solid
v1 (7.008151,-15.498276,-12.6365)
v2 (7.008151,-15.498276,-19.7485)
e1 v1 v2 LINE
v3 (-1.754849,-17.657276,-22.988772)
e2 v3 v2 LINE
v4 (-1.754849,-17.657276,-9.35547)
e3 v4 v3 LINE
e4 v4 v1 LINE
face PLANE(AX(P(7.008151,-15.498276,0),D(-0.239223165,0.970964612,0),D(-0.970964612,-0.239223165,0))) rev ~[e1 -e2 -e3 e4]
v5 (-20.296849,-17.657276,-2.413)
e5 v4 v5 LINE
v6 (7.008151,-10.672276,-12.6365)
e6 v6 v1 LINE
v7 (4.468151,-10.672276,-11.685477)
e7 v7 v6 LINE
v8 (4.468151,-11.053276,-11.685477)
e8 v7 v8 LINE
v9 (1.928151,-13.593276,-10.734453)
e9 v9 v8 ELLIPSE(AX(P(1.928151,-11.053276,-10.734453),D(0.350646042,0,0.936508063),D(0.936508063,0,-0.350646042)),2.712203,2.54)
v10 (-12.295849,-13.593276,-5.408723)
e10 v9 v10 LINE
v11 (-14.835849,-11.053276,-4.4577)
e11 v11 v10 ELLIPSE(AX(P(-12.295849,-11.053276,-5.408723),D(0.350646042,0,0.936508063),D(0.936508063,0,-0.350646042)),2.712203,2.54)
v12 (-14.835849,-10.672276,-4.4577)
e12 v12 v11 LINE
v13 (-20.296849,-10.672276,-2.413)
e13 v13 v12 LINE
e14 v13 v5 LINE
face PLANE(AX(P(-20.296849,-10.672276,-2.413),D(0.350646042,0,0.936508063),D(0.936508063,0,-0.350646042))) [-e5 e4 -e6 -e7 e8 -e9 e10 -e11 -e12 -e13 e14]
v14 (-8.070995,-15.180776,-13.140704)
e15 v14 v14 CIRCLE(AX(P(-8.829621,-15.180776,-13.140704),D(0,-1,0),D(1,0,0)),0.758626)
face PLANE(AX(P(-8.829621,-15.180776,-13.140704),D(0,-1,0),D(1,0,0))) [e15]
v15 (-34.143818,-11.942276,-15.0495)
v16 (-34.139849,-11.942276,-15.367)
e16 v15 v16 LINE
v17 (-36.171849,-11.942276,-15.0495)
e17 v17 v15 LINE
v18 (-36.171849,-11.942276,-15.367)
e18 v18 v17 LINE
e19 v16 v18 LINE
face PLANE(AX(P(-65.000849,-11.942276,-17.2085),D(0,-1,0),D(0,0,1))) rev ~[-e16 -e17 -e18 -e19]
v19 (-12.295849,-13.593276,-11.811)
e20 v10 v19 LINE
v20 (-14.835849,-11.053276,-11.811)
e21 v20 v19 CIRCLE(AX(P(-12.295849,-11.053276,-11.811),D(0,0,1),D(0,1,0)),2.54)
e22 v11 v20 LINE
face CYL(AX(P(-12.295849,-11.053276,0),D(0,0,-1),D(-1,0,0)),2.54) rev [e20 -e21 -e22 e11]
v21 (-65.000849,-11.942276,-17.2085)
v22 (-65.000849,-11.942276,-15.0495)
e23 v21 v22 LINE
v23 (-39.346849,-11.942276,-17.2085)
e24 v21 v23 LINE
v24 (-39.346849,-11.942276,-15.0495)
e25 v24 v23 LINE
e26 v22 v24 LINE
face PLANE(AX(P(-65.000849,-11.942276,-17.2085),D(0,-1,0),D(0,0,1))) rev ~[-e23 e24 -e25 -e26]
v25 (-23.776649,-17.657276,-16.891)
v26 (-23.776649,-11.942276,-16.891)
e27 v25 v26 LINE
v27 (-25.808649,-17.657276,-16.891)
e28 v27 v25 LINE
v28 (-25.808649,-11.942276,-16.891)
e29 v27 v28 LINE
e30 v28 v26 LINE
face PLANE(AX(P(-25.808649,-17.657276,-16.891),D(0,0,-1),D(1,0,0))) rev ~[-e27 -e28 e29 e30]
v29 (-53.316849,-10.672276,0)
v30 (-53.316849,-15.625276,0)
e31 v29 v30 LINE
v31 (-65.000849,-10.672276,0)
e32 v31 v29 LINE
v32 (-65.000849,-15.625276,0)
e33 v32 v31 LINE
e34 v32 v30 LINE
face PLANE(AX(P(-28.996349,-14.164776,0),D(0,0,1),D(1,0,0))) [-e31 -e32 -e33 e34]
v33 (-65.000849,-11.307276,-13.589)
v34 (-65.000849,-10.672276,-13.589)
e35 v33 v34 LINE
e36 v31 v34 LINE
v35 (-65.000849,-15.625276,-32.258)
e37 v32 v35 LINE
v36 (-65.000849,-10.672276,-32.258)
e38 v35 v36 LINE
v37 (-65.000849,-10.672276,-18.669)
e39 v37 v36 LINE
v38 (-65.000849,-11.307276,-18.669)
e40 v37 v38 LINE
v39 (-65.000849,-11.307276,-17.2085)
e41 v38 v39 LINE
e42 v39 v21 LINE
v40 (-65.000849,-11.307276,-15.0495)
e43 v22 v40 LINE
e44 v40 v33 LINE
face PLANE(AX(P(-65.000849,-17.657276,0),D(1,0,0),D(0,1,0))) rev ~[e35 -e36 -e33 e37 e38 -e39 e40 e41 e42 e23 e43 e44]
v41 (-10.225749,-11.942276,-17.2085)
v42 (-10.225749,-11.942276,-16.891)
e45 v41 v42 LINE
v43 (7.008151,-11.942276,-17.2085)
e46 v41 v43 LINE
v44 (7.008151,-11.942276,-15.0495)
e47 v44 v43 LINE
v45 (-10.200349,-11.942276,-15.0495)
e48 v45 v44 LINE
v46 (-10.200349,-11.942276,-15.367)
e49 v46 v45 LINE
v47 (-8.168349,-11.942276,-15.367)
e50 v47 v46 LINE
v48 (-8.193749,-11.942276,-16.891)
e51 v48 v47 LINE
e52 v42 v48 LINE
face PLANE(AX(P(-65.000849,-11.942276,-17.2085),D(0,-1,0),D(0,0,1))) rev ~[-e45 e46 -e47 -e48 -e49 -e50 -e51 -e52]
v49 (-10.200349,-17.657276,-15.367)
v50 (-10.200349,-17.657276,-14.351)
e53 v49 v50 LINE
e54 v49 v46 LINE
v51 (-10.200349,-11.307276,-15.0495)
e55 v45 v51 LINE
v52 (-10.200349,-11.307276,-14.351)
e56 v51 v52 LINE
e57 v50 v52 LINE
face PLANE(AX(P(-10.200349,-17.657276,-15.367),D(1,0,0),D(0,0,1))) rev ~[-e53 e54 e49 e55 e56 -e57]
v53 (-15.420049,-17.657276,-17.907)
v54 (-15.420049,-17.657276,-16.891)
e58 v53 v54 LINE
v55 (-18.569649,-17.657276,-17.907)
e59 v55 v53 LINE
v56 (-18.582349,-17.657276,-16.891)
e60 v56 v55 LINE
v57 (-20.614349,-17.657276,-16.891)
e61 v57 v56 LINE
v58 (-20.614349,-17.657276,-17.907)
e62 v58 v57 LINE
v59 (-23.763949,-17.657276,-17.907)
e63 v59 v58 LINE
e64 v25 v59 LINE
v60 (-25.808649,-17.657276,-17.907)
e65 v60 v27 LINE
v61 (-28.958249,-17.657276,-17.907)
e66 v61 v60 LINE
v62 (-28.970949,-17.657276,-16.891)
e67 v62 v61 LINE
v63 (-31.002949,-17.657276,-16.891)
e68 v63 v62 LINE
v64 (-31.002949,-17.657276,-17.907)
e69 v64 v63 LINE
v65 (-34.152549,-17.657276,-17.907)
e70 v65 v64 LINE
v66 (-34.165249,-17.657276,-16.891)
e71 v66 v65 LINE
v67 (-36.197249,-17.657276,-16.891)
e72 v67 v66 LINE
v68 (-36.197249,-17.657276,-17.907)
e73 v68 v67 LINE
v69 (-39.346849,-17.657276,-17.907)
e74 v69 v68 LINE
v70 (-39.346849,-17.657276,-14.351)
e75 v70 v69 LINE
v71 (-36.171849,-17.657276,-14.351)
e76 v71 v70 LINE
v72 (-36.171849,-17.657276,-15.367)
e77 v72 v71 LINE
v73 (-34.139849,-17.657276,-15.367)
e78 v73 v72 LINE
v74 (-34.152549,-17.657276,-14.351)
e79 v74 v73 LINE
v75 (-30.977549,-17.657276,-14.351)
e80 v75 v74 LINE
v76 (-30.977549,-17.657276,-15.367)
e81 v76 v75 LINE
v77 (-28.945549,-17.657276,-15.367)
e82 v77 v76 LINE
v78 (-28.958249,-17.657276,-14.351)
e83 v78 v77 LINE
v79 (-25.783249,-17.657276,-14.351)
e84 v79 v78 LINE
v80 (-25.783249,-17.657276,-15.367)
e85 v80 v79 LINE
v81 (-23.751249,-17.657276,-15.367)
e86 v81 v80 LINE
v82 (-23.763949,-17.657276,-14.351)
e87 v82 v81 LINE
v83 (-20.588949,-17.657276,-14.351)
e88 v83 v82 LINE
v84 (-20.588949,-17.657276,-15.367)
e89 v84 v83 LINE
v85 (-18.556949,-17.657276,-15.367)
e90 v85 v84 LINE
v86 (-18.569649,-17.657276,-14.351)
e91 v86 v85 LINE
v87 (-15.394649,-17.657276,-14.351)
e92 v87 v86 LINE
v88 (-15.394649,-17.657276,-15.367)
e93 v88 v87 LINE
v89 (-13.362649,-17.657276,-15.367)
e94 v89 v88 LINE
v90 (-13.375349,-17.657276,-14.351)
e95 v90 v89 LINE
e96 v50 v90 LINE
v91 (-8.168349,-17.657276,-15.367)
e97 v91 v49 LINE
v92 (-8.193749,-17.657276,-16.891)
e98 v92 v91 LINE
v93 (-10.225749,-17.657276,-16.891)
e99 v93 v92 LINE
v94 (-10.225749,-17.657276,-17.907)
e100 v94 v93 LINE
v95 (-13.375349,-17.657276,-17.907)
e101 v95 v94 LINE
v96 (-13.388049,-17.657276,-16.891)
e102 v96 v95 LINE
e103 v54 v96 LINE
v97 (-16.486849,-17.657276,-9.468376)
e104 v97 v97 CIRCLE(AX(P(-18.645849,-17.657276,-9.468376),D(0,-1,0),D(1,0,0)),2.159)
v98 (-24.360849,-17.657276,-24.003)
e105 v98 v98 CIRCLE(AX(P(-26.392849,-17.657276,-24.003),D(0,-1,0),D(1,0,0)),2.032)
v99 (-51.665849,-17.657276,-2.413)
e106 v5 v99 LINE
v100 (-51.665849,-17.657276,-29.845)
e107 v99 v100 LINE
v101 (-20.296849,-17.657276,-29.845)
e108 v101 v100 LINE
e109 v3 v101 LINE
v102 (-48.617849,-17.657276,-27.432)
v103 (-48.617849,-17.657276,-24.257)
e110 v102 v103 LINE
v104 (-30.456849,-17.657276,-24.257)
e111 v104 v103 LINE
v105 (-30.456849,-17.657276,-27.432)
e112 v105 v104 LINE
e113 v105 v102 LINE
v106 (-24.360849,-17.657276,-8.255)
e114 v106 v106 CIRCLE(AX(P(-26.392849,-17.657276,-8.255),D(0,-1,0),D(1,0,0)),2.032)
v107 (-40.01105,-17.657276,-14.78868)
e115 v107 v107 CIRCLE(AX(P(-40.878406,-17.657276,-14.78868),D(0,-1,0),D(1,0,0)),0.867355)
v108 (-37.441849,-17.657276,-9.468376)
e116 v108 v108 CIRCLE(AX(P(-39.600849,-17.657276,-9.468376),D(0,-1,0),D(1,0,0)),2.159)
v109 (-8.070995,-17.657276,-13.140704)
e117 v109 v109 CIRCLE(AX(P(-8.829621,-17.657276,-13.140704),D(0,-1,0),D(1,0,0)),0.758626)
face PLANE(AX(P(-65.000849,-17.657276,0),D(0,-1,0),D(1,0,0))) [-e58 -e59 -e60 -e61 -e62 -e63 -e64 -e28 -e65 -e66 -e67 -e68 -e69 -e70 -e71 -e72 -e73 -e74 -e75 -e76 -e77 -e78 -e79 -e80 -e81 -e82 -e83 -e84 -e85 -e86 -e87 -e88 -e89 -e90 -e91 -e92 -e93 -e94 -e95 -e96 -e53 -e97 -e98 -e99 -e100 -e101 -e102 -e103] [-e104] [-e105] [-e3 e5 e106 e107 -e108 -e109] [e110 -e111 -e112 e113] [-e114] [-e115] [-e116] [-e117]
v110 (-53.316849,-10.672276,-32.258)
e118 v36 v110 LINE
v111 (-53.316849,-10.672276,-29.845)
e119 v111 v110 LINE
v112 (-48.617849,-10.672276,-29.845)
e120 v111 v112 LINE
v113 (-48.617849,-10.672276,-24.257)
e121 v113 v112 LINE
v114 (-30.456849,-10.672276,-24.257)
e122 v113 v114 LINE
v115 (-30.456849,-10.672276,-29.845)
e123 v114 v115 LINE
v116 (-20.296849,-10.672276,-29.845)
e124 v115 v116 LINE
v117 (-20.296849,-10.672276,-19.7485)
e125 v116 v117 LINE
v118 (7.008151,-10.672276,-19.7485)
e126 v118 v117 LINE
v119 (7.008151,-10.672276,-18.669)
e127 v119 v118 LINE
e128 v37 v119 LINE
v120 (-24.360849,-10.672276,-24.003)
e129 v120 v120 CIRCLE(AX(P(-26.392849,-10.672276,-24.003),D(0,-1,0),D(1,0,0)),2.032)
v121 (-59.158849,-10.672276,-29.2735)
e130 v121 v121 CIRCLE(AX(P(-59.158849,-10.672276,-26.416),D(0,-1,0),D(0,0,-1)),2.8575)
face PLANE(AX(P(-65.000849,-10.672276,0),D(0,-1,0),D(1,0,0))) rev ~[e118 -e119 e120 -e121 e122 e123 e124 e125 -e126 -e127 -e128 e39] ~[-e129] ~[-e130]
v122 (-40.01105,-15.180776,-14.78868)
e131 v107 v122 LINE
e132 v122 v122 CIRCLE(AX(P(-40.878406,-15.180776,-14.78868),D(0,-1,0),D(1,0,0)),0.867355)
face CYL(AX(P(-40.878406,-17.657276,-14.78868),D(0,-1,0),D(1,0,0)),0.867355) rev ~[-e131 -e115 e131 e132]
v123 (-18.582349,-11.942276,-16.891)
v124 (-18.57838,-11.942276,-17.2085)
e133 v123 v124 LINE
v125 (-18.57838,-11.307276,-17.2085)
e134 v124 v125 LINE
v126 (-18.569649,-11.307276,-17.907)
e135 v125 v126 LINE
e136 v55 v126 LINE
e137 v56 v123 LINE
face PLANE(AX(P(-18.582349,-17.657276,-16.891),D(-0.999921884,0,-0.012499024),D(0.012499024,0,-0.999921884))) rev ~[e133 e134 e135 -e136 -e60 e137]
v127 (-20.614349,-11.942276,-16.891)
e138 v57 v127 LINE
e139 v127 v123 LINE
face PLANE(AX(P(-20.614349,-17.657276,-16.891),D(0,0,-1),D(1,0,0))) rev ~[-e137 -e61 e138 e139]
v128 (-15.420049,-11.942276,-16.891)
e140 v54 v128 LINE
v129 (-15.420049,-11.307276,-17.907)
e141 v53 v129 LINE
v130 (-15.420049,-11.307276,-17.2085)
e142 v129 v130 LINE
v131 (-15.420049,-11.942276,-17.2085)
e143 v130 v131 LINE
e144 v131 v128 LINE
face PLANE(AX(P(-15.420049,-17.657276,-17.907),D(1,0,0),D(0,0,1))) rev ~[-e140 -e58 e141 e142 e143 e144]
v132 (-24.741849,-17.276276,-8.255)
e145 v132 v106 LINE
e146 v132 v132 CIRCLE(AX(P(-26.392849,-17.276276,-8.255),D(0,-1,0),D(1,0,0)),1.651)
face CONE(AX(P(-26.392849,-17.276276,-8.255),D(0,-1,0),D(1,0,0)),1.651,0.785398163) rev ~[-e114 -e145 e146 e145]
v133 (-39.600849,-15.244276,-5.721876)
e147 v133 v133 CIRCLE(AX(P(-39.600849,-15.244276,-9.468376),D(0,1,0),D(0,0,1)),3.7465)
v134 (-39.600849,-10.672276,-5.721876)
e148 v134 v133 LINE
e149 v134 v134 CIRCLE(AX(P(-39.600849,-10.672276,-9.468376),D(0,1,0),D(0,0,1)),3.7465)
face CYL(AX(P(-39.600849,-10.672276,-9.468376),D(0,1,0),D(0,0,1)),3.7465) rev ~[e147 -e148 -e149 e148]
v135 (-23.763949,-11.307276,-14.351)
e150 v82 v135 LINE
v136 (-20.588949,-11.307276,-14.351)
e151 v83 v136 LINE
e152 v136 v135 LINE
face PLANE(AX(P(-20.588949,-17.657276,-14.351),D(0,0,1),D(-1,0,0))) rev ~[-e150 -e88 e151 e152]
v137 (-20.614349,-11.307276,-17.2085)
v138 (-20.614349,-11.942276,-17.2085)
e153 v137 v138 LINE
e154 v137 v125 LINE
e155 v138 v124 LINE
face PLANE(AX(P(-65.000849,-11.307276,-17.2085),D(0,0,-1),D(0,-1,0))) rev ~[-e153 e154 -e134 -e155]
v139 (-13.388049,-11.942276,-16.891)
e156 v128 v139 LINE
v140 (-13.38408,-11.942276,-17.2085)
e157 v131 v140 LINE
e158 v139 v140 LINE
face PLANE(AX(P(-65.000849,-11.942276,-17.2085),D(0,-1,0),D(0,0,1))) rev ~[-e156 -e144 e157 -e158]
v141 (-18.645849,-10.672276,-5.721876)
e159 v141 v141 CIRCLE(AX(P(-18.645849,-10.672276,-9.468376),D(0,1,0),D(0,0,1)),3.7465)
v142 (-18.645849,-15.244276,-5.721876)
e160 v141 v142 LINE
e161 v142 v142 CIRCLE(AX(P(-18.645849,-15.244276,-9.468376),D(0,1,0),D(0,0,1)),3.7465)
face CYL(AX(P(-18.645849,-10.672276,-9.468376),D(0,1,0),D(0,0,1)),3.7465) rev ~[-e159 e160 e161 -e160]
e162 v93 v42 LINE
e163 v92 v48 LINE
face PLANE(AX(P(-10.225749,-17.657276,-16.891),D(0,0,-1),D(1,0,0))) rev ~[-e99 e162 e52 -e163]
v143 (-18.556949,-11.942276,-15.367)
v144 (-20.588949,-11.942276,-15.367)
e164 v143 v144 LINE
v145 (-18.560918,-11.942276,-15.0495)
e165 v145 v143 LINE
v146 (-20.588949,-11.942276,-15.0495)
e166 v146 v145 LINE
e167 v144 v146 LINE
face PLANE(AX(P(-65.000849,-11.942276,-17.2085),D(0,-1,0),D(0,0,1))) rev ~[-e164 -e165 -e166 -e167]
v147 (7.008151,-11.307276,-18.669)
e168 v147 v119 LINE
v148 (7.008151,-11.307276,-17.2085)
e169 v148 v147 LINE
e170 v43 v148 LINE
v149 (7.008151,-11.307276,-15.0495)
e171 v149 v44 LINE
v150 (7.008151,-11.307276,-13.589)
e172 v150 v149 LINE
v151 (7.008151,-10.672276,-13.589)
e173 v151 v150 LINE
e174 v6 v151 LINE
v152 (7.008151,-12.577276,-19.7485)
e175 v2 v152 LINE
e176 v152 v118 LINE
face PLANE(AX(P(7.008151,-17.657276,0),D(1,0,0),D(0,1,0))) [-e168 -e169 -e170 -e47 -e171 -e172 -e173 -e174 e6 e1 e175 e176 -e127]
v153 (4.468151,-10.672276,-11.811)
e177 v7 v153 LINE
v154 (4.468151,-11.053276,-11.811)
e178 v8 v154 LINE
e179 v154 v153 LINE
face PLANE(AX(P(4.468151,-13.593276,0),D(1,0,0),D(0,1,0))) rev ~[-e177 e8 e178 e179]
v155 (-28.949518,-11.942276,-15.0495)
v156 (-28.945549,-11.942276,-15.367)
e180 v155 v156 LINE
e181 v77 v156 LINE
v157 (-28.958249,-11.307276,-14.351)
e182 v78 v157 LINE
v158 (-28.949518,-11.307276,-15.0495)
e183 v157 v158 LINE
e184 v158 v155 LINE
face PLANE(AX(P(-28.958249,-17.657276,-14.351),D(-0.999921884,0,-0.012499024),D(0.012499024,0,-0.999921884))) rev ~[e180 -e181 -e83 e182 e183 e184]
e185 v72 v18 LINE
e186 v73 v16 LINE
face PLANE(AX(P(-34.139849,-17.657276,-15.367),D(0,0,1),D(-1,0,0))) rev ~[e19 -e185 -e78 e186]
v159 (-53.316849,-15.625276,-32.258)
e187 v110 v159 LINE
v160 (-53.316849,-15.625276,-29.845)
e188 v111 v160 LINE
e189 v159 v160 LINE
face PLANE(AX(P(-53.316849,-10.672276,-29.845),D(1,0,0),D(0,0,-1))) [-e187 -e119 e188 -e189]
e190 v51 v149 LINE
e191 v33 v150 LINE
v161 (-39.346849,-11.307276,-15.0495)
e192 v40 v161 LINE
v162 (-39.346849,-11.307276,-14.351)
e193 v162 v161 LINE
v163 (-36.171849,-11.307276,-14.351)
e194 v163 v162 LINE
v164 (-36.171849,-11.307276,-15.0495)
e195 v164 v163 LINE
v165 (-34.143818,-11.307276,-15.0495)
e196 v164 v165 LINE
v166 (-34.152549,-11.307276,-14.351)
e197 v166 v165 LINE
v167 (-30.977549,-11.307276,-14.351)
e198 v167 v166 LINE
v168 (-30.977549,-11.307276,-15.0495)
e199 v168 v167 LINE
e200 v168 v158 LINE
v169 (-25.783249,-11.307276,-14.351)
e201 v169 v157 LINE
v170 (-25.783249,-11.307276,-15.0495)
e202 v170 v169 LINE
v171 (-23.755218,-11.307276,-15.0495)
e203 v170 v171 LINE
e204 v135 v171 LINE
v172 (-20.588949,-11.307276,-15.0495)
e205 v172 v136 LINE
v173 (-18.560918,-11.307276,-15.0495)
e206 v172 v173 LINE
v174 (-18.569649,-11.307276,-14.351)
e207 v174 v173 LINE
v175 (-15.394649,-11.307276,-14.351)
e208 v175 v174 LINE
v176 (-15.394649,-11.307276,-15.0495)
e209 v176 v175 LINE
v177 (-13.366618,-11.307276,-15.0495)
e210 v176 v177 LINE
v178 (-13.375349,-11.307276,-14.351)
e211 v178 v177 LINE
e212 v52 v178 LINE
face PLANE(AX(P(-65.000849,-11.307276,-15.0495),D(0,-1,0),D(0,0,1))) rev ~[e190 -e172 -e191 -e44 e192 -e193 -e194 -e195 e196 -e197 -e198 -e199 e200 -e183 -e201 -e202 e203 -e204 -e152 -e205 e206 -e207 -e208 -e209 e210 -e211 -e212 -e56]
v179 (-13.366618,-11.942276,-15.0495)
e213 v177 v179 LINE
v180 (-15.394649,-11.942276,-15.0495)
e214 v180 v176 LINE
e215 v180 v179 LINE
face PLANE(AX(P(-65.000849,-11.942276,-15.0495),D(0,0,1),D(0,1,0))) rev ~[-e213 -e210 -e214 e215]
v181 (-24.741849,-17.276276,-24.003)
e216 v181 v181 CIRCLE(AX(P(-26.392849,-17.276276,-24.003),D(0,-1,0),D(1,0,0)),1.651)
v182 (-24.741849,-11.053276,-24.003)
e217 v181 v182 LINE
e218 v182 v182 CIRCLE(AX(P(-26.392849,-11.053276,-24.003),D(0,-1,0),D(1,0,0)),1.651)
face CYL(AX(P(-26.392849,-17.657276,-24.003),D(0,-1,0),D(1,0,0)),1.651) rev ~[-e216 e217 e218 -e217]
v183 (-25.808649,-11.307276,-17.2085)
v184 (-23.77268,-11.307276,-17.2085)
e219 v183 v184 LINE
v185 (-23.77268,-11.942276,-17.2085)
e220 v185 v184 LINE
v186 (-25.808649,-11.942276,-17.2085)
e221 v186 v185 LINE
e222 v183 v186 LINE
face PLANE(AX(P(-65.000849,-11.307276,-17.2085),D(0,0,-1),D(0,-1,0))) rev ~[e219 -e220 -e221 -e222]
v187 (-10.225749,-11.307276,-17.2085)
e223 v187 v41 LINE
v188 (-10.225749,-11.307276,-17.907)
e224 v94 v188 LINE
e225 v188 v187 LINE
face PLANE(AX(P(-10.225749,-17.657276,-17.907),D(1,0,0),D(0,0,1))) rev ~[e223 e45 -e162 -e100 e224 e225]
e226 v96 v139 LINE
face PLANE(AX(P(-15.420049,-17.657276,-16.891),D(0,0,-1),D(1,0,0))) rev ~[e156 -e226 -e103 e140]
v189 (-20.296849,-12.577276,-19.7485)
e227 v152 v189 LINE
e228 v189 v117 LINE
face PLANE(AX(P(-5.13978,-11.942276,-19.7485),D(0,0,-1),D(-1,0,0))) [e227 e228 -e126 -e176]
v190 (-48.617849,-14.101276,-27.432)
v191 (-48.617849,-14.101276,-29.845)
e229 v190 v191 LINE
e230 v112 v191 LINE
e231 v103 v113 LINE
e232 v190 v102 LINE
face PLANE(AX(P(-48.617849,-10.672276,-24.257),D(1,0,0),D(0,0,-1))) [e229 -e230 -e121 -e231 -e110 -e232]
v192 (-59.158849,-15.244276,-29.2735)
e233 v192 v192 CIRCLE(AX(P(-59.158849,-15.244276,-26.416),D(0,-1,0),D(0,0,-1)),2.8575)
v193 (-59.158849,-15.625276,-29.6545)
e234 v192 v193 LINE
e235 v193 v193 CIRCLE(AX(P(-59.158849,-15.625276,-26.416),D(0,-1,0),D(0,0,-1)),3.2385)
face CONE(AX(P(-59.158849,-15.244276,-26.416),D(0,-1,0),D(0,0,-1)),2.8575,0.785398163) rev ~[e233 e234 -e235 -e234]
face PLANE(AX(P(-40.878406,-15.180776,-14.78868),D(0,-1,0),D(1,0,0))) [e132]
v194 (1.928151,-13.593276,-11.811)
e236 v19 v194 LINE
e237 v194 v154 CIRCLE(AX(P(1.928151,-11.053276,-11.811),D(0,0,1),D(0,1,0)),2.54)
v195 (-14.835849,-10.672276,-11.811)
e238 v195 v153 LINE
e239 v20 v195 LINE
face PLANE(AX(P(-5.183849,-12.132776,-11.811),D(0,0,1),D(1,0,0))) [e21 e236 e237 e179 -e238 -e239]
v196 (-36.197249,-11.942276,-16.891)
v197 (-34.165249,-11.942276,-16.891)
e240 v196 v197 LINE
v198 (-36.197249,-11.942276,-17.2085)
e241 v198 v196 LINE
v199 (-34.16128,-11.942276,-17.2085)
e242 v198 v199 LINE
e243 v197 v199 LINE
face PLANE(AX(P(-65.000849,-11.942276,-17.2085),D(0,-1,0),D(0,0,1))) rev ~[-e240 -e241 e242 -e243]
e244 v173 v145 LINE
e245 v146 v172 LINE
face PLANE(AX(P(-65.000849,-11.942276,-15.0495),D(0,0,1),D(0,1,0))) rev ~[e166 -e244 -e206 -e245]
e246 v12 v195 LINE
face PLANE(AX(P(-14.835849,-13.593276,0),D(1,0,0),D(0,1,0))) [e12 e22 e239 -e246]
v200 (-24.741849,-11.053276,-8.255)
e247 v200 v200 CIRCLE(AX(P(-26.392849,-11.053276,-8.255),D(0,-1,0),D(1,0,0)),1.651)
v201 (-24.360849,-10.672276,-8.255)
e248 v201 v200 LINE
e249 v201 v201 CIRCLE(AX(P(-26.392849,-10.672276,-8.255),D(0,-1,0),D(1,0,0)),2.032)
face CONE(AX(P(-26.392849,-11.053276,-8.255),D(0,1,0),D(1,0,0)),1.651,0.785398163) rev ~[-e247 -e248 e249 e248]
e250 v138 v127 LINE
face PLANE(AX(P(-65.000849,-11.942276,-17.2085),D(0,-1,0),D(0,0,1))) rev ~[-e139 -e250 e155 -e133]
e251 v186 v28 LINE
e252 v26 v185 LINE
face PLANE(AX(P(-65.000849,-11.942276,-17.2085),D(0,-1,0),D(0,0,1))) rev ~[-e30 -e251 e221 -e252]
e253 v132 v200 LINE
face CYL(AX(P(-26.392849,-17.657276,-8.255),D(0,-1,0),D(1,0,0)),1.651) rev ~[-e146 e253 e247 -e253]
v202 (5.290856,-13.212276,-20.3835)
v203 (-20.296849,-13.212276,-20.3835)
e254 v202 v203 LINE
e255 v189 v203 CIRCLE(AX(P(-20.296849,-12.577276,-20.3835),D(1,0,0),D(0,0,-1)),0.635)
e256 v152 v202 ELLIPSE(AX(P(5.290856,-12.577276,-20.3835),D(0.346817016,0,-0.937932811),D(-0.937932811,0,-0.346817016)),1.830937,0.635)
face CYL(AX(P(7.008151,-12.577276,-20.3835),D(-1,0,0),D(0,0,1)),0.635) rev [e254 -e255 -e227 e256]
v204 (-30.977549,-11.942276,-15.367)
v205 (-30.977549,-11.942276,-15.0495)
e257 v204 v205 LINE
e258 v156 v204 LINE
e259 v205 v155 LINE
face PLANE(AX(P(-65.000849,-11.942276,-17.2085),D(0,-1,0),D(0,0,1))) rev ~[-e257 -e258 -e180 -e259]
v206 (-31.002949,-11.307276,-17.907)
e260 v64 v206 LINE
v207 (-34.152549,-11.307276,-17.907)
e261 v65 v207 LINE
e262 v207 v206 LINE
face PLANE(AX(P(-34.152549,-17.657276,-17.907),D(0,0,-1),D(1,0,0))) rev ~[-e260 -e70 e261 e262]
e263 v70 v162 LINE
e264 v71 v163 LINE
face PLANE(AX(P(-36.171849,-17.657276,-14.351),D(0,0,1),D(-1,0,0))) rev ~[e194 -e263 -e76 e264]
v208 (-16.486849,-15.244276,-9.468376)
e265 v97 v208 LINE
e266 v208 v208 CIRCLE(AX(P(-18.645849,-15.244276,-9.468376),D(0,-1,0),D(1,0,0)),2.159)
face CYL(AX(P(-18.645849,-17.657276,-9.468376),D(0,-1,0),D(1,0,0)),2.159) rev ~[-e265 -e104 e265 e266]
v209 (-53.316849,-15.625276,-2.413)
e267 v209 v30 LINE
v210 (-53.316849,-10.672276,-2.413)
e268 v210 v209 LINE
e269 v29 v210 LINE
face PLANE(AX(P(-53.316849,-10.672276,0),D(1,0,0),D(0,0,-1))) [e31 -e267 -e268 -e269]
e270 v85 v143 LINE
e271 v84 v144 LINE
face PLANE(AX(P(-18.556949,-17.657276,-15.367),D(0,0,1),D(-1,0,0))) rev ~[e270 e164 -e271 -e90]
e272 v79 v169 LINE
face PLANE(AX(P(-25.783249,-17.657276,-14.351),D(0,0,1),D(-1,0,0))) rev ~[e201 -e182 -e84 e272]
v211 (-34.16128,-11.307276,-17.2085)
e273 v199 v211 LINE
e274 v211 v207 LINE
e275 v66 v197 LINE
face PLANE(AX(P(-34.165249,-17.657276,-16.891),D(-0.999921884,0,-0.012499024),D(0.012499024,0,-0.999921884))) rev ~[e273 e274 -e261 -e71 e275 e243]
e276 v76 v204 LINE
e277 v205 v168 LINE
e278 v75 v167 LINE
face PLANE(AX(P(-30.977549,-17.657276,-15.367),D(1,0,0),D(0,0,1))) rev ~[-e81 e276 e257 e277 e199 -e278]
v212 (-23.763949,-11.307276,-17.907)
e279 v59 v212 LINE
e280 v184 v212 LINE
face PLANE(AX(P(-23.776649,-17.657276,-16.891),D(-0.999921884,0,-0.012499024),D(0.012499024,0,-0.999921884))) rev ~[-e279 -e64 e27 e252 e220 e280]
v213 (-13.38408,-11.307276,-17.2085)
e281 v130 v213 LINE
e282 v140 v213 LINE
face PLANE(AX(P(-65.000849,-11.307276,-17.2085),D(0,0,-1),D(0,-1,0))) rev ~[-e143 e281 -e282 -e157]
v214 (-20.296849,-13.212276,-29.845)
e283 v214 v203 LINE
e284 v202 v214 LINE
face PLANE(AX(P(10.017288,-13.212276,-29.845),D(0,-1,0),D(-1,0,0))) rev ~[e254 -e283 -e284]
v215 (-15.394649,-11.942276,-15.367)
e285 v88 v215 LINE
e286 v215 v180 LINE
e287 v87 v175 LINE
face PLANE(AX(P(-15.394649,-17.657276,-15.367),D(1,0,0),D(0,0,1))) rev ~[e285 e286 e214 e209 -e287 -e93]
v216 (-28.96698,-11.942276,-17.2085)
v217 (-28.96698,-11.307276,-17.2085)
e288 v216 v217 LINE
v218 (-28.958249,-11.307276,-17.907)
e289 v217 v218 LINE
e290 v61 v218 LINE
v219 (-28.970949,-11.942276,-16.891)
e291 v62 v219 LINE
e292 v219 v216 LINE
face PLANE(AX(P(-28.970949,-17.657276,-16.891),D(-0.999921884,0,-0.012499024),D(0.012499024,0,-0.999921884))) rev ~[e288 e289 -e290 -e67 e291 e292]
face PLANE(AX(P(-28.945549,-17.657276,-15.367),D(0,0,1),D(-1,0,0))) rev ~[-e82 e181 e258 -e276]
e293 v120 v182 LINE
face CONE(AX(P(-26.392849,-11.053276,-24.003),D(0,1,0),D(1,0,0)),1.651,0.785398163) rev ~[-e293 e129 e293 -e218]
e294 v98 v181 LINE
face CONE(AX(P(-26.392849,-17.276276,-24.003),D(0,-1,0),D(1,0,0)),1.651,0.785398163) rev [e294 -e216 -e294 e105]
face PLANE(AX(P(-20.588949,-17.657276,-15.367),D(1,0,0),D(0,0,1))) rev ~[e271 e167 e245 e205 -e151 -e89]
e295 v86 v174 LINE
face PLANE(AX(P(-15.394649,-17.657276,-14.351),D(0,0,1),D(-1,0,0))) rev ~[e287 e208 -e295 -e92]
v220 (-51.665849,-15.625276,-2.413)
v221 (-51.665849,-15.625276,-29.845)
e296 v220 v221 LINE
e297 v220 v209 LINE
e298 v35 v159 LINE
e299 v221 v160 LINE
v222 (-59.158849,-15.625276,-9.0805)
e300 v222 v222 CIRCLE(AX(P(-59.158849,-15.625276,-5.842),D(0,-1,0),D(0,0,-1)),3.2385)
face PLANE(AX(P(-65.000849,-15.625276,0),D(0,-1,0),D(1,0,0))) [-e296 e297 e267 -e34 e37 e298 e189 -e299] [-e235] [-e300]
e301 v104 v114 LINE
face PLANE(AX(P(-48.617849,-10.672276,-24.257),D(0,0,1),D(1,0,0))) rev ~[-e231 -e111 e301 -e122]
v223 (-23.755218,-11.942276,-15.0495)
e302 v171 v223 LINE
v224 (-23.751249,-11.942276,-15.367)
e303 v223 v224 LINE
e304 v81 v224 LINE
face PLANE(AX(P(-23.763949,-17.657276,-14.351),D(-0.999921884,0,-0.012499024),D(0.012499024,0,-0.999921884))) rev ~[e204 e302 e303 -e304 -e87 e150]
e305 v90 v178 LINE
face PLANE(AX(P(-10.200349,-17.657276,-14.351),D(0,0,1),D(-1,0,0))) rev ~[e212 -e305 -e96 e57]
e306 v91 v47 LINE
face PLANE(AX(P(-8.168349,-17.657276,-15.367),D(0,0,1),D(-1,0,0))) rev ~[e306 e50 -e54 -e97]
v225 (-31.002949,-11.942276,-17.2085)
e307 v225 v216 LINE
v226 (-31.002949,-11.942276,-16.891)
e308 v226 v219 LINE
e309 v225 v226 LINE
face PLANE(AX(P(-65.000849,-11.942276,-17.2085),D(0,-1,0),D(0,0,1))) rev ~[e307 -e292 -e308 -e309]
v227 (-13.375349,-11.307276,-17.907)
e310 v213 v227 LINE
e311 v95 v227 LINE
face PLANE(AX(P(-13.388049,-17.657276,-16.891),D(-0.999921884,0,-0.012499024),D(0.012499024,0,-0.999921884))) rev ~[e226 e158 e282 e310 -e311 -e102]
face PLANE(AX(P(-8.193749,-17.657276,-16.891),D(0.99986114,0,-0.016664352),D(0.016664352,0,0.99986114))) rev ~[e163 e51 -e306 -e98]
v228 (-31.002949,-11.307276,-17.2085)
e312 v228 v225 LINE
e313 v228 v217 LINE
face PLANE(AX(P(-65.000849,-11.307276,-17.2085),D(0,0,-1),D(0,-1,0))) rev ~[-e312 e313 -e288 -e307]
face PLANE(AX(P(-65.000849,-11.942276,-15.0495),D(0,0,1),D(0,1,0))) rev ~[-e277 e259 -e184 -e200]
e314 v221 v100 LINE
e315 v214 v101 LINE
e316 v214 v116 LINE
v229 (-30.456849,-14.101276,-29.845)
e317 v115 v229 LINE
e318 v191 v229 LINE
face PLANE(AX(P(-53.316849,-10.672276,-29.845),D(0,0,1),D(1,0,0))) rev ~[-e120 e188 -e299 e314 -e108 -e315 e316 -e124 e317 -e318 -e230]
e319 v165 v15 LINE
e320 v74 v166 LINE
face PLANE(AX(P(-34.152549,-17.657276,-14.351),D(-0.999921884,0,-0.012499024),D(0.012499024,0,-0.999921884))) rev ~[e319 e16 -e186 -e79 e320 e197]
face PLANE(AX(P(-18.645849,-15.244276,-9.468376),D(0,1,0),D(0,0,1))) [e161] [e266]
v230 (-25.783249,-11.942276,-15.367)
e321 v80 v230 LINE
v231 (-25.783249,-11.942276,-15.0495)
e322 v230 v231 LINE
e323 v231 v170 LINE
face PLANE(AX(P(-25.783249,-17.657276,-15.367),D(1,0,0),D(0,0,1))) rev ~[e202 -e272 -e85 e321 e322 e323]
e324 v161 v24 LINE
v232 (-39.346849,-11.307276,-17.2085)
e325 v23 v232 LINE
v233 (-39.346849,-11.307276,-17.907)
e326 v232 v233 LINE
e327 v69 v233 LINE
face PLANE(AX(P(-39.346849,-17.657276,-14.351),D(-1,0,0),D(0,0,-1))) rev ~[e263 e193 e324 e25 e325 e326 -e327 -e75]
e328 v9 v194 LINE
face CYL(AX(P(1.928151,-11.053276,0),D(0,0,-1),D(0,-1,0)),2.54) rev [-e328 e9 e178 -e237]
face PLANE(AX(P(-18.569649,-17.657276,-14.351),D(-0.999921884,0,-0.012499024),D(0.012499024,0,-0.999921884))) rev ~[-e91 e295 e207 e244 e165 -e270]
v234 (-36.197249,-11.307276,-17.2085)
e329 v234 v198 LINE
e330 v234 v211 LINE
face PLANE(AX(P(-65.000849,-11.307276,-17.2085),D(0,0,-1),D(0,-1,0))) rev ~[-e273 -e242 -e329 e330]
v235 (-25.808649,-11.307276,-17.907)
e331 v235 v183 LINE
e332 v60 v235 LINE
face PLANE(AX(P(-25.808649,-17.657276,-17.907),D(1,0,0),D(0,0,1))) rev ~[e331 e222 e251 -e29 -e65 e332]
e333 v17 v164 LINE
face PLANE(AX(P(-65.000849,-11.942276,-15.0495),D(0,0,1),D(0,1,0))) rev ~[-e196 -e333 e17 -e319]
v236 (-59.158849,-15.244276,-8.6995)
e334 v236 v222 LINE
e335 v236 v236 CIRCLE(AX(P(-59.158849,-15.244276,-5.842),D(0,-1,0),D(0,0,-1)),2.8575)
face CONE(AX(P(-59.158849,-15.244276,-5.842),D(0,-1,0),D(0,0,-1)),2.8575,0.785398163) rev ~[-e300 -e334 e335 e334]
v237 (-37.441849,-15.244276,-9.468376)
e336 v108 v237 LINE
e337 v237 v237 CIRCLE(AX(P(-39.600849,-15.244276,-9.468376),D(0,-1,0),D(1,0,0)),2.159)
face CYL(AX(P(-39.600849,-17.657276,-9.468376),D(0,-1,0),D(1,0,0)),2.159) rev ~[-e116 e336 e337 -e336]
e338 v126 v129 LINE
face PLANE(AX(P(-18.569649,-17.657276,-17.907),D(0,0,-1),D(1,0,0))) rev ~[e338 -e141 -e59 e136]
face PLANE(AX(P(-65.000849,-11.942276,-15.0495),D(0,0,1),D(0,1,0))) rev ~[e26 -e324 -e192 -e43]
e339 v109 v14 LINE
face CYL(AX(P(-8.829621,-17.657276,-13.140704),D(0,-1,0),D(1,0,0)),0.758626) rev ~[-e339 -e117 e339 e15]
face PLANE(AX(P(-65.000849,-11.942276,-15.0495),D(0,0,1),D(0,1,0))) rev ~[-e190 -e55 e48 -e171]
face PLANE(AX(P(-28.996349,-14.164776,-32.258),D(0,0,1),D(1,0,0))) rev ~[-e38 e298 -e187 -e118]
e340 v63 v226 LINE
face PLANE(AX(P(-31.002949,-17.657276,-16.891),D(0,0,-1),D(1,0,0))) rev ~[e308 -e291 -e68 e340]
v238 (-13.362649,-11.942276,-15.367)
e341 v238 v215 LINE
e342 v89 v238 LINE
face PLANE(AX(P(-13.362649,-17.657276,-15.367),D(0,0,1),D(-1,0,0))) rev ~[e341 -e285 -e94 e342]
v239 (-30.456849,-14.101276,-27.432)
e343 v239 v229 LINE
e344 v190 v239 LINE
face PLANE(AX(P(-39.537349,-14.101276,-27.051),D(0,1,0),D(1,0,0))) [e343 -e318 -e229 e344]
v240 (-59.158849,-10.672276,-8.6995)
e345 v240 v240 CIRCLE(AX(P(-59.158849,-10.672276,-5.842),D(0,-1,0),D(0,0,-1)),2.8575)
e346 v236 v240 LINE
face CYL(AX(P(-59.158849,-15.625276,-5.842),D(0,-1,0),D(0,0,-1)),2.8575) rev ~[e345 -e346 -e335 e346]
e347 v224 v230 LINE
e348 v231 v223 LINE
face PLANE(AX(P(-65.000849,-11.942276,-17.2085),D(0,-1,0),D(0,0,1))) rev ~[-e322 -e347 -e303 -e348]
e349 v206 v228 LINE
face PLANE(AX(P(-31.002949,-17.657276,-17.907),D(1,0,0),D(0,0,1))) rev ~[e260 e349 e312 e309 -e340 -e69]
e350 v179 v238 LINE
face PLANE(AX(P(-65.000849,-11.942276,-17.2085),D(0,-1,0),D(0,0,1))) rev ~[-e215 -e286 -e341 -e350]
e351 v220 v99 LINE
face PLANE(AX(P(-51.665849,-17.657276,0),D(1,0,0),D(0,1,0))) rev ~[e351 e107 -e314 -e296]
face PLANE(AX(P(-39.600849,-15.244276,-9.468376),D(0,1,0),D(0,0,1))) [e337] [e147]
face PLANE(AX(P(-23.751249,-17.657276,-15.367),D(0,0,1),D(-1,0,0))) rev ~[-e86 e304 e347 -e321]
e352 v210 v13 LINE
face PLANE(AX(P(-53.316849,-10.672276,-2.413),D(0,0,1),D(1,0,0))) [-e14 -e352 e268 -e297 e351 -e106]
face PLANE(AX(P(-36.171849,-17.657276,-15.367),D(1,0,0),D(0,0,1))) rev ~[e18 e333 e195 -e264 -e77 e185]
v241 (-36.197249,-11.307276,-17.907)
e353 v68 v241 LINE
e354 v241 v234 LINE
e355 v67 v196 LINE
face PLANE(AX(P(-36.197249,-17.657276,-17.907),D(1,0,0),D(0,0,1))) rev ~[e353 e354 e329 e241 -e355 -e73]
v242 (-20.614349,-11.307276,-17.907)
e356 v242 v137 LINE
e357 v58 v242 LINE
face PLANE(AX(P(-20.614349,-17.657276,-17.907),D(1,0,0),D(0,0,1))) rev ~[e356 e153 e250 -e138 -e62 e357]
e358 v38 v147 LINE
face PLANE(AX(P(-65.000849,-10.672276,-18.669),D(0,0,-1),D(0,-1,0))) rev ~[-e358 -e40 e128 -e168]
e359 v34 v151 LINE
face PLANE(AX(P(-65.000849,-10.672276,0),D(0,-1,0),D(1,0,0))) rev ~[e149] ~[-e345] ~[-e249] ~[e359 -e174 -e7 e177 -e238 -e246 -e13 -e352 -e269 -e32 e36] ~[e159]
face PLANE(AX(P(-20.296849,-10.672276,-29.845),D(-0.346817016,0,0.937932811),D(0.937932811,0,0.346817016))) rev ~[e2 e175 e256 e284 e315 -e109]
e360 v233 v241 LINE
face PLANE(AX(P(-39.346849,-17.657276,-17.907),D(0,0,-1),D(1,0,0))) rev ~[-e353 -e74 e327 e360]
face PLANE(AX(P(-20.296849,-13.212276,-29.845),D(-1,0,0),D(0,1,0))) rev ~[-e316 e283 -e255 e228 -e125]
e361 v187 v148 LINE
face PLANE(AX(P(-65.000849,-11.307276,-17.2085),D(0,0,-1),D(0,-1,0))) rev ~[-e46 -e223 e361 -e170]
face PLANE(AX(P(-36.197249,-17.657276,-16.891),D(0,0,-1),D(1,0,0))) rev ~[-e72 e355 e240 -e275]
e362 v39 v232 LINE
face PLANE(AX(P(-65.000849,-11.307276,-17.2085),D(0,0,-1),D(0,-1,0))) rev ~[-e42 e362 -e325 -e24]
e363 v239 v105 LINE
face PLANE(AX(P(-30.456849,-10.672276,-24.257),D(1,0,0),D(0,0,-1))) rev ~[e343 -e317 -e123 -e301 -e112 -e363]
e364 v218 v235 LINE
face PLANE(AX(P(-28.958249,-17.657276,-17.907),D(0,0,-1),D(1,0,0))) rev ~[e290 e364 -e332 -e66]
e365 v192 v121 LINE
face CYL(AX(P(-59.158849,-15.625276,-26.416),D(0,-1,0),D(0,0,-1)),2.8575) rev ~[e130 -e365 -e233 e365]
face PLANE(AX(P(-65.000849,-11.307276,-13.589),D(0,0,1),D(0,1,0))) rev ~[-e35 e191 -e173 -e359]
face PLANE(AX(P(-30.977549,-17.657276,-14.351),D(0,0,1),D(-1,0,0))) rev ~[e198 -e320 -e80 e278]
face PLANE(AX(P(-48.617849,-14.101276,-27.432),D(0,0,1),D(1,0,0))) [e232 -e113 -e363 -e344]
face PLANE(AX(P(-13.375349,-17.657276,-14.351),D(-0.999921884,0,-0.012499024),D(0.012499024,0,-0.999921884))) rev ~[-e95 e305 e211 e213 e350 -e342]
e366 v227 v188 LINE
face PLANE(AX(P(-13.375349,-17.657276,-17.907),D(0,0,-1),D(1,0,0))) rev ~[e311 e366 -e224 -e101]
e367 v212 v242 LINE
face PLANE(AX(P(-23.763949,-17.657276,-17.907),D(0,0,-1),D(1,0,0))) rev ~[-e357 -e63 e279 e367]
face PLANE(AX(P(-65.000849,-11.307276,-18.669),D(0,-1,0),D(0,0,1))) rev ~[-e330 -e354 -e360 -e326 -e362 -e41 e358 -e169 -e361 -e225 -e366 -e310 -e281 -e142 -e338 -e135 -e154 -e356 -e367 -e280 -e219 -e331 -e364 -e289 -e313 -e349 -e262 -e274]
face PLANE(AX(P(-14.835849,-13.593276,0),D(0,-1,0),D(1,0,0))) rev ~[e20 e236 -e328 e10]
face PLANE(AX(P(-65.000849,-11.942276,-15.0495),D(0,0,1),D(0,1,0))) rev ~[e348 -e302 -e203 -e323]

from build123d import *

# Parameters (mm, degrees)
SKETCH1_W           = 72.009
SKETCH1_H           = 6.985
BOSS_EXTRUDE1_DEPTH = 32.258
SKETCH2_W           = 13.335
SKETCH2_H           = 2.032
CUT_EXTRUDE1_DEPTH  = 75.682449945
SKETCH3_W           = 19.304
SKETCH3_H           = 2.921
CUT_EXTRUDE2_DEPTH  = 11.811
FILLET1_R           = 2.54
CUT_EXTRUDE3_DEPTH  = 75.682449945
SKETCH6_W           = 60.325
SKETCH6_H           = 2.413
CUT_EXTRUDE6_DEPTH  = 73.900474235
SKETCH11_W          = 18.161
SKETCH11_H          = 5.588
CUT_EXTRUDE7_DEPTH  = 3.429
SKETCH12_W          = 18.161
SKETCH12_H          = 3.175
CUT_EXTRUDE8_DEPTH  = 73.652144185
SKETCH13_W          = 30.314137033
SKETCH13_H          = 2.54
CUT_EXTRUDE9_DEPTH  = 10.0965
CUT_EXTRUDE10_DEPTH = 73.900474235
FILLET2_R           = 0.635
CUT_EXTRUDE11_DEPTH = 81.85576081
CUT_EXTRUDE12_DEPTH = 73.900474235
SKETCH18_R          = 0.758626194
SKETCH18_R_2        = 0.86735546
CUT_EXTRUDE13_DEPTH = 2.4765
SKETCH19_R          = 2.8575
CUT_EXTRUDE14_DEPTH = 73.733906314
CHAMFER1_SIZE       = 0.381
SKETCH20_R          = 1.651
CUT_EXTRUDE15_DEPTH = 73.900474235
CHAMFER2_SIZE       = 0.381
SKETCH21_R          = 2.159
CUT_EXTRUDE16_DEPTH = 73.900474235
SKETCH22_R          = 3.7465
CUT_EXTRUDE17_DEPTH = 4.572


with BuildPart() as part:
    # Sketch1 → Boss-Extrude1 (new body)
    with BuildSketch(Plane.XY):
        with Locations((-28.996348877, -14.164776435)):
            Rectangle(SKETCH1_W, SKETCH1_H)
    extrude(amount=-BOSS_EXTRUDE1_DEPTH)

    # Sketch2 → Cut-Extrude1 (cut, through all)
    with BuildSketch(Plane.XY):
        with Locations((-58.333348877, -16.641276435)):
            Rectangle(SKETCH2_W, SKETCH2_H)
    extrude(amount=-CUT_EXTRUDE1_DEPTH, mode=Mode.SUBTRACT)

    # Sketch3 → Cut-Extrude2 (cut)
    with BuildSketch(Plane.XY):
        with Locations((-5.183848877, -12.132776435)):
            Rectangle(SKETCH3_W, SKETCH3_H)
    extrude(amount=-CUT_EXTRUDE2_DEPTH, mode=Mode.SUBTRACT)

    # Fillet1
    fillet1_edges = [part.edges().sort_by_distance(p)[0] for p in [
        (-14.835848877, -13.593276435, -5.9055),
        (4.468151123, -13.593276435, -5.9055),
    ]]
    fillet(fillet1_edges, radius=FILLET1_R)

    # Sketch4 → Cut-Extrude3 (cut, through all)
    with BuildSketch(Plane.XY):
        Polygon((7.008151123, -17.657276435), (7.008151123, -15.498276435), (-1.754848877, -17.657276435), align=None)
    extrude(amount=-CUT_EXTRUDE3_DEPTH, mode=Mode.SUBTRACT)

    # Sketch6 → Cut-Extrude6 (cut, through all)
    with BuildSketch(Plane(origin=(0, -10.672276435, 0), x_dir=(1, 0, 0), z_dir=(0, 1, 0))):
        with Locations((-23.154348877, 31.0515)):
            Rectangle(SKETCH6_W, SKETCH6_H)
        with Locations((-23.154348877, 1.2065)):
            Rectangle(SKETCH6_W, SKETCH6_H)
    extrude(amount=-CUT_EXTRUDE6_DEPTH, mode=Mode.SUBTRACT)

    # Sketch11 → Cut-Extrude7 (cut)
    with BuildSketch(Plane(origin=(0, -10.672276435, 0), x_dir=(1, 0, 0), z_dir=(0, 1, 0))):
        with Locations((-39.537348877, 27.051)):
            Rectangle(SKETCH11_W, SKETCH11_H)
    extrude(amount=-CUT_EXTRUDE7_DEPTH, mode=Mode.SUBTRACT)

    # Sketch12 → Cut-Extrude8 (cut, through all)
    with BuildSketch(Plane(origin=(0, -14.101276435, 0), x_dir=(1, 0, 0), z_dir=(0, 1, 0))):
        with Locations((-39.537348877, 25.8445)):
            Rectangle(SKETCH12_W, SKETCH12_H)
    extrude(amount=-CUT_EXTRUDE8_DEPTH, mode=Mode.SUBTRACT)

    # Sketch13 → Cut-Extrude9 (cut)
    with BuildSketch(Plane(origin=(0, 0, -29.845), x_dir=(-1, 0, 0), z_dir=(0, 0, -1))):
        with Locations((5.139780361, -11.942276435)):
            Rectangle(SKETCH13_W, SKETCH13_H)
    extrude(amount=-CUT_EXTRUDE9_DEPTH, mode=Mode.SUBTRACT)

    # Sketch14 → Cut-Extrude10 (cut, through all)
    with BuildSketch(Plane(origin=(0, -10.672276435, 0), x_dir=(1, 0, 0), z_dir=(0, 1, 0))):
        Polygon((-20.296848877, 29.845), (7.008151123, 19.7485), (7.008151123, 29.845), align=None)
        Polygon((-20.296848877, 2.413), (7.008151123, 12.6365), (7.008151123, 2.413), align=None)
    extrude(amount=-CUT_EXTRUDE10_DEPTH, mode=Mode.SUBTRACT)

    # Fillet2
    fillet2_edges = [part.edges().sort_by_distance(p)[0] for p in [
        (-6.644348877, -13.212276435, -19.7485),
    ]]
    fillet(fillet2_edges, radius=FILLET2_R)

    # Sketch16 → Cut-Extrude11 (cut, through all)
    with BuildSketch(Plane.ZY.offset(65.000848877)):
        Polygon((-17.2085, -11.942276435), (-15.0495, -11.942276435), (-15.0495, -11.307276435), (-13.589, -11.307276435), (-13.589, -10.672276435), (-18.669, -10.672276435), (-18.669, -11.307276435), (-17.2085, -11.307276435), align=None)
    extrude(amount=-CUT_EXTRUDE11_DEPTH, mode=Mode.SUBTRACT)

    # Sketch17 → Cut-Extrude12 (cut, through all)
    with BuildSketch(Plane.XZ.offset(17.657276435)):
        Polygon((-31.002948877, -16.891), (-28.970948877, -16.891), (-28.958248877, -17.907), (-25.808648877, -17.907), (-25.808648877, -16.891), (-23.776648877, -16.891), (-23.763948877, -17.907), (-20.614348877, -17.907), (-20.614348877, -16.891), (-18.582348877, -16.891), (-18.569648877, -17.907), (-15.420048877, -17.907), (-15.420048877, -16.891), (-13.388048877, -16.891), (-13.375348877, -17.907), (-10.225748877, -17.907), (-10.225748877, -16.891), (-8.193748877, -16.891), (-8.168348877, -15.367), (-10.200348877, -15.367), (-10.200348877, -14.351), (-13.375348877, -14.351), (-13.362648877, -15.367), (-15.394648877, -15.367), (-15.394648877, -14.351), (-18.569648877, -14.351), (-18.556948877, -15.367), (-20.588948877, -15.367), (-20.588948877, -14.351), (-23.763948877, -14.351), (-23.751248877, -15.367), (-25.783248877, -15.367), (-25.783248877, -14.351), (-28.958248877, -14.351), (-28.945548877, -15.367), (-30.977548877, -15.367), (-30.977548877, -14.351), (-34.152548877, -14.351), (-34.139848877, -15.367), (-36.171848877, -15.367), (-36.171848877, -14.351), (-39.346848877, -14.351), (-39.346848877, -17.907), (-36.197248877, -17.907), (-36.197248877, -16.891), (-34.165248877, -16.891), (-34.152548877, -17.907), (-31.002948877, -17.907), align=None)
    extrude(amount=-CUT_EXTRUDE12_DEPTH, mode=Mode.SUBTRACT)

    # Sketch18 → Cut-Extrude13 (cut)
    with BuildSketch(Plane.XZ.offset(17.657276435)):
        with Locations((-8.829621314, -13.140704274)):
            Circle(SKETCH18_R)
        with Locations((-40.878405559, -14.788679648)):
            Circle(SKETCH18_R_2)
    extrude(amount=-CUT_EXTRUDE13_DEPTH, mode=Mode.SUBTRACT)

    # Sketch19 → Cut-Extrude14 (cut, through all)
    with BuildSketch(Plane.XZ.offset(15.625276435)):
        with Locations(Location((-59.158848877, -5.842, 0), (0, 0, 270))):
            Circle(SKETCH19_R)
        with Locations(Location((-59.158848877, -26.416, 0), (0, 0, 270))):
            Circle(SKETCH19_R)
    extrude(amount=-CUT_EXTRUDE14_DEPTH, mode=Mode.SUBTRACT)

    # Chamfer1
    chamfer1_edges = [part.edges().sort_by_distance(p)[0] for p in [
        (-59.158848877, -15.625276435, -2.9845),
        (-59.158848877, -15.625276435, -23.5585),
    ]]
    chamfer(chamfer1_edges, length=CHAMFER1_SIZE)

    # Sketch20 → Cut-Extrude15 (cut, through all)
    with BuildSketch(Plane.XZ.offset(17.657276435)):
        with Locations((-26.392848877, -8.255)):
            Circle(SKETCH20_R)
        with Locations((-26.392848877, -24.003)):
            Circle(SKETCH20_R)
    extrude(amount=-CUT_EXTRUDE15_DEPTH, mode=Mode.SUBTRACT)

    # Chamfer2
    chamfer2_edges = [part.edges().sort_by_distance(p)[0] for p in [
        (-28.043848877, -10.672276435, -8.255),
        (-28.043848877, -17.657276435, -8.255),
        (-28.043848877, -10.672276435, -24.003),
        (-28.043848877, -17.657276435, -24.003),
    ]]
    chamfer(chamfer2_edges, length=CHAMFER2_SIZE)

    # Sketch21 → Cut-Extrude16 (cut, through all)
    with BuildSketch(Plane.XZ.offset(17.657276435)):
        with Locations((-39.600848877, -9.468375809)):
            Circle(SKETCH21_R)
        with Locations((-18.645848877, -9.468375809)):
            Circle(SKETCH21_R)
    extrude(amount=-CUT_EXTRUDE16_DEPTH, mode=Mode.SUBTRACT)

    # Sketch22 → Cut-Extrude17 (cut)
    with BuildSketch(Plane(origin=(0, -10.672276435, 0), x_dir=(1, 0, 0), z_dir=(0, 1, 0))):
        with Locations(Location((-39.600848877, 9.468375809, 0), (0, 0, 270))):
            Circle(SKETCH22_R)
        with Locations(Location((-18.645848877, 9.468375809, 0), (0, 0, 270))):
            Circle(SKETCH22_R)
    extrude(amount=-CUT_EXTRUDE17_DEPTH, mode=Mode.SUBTRACT)


solid = part.part
